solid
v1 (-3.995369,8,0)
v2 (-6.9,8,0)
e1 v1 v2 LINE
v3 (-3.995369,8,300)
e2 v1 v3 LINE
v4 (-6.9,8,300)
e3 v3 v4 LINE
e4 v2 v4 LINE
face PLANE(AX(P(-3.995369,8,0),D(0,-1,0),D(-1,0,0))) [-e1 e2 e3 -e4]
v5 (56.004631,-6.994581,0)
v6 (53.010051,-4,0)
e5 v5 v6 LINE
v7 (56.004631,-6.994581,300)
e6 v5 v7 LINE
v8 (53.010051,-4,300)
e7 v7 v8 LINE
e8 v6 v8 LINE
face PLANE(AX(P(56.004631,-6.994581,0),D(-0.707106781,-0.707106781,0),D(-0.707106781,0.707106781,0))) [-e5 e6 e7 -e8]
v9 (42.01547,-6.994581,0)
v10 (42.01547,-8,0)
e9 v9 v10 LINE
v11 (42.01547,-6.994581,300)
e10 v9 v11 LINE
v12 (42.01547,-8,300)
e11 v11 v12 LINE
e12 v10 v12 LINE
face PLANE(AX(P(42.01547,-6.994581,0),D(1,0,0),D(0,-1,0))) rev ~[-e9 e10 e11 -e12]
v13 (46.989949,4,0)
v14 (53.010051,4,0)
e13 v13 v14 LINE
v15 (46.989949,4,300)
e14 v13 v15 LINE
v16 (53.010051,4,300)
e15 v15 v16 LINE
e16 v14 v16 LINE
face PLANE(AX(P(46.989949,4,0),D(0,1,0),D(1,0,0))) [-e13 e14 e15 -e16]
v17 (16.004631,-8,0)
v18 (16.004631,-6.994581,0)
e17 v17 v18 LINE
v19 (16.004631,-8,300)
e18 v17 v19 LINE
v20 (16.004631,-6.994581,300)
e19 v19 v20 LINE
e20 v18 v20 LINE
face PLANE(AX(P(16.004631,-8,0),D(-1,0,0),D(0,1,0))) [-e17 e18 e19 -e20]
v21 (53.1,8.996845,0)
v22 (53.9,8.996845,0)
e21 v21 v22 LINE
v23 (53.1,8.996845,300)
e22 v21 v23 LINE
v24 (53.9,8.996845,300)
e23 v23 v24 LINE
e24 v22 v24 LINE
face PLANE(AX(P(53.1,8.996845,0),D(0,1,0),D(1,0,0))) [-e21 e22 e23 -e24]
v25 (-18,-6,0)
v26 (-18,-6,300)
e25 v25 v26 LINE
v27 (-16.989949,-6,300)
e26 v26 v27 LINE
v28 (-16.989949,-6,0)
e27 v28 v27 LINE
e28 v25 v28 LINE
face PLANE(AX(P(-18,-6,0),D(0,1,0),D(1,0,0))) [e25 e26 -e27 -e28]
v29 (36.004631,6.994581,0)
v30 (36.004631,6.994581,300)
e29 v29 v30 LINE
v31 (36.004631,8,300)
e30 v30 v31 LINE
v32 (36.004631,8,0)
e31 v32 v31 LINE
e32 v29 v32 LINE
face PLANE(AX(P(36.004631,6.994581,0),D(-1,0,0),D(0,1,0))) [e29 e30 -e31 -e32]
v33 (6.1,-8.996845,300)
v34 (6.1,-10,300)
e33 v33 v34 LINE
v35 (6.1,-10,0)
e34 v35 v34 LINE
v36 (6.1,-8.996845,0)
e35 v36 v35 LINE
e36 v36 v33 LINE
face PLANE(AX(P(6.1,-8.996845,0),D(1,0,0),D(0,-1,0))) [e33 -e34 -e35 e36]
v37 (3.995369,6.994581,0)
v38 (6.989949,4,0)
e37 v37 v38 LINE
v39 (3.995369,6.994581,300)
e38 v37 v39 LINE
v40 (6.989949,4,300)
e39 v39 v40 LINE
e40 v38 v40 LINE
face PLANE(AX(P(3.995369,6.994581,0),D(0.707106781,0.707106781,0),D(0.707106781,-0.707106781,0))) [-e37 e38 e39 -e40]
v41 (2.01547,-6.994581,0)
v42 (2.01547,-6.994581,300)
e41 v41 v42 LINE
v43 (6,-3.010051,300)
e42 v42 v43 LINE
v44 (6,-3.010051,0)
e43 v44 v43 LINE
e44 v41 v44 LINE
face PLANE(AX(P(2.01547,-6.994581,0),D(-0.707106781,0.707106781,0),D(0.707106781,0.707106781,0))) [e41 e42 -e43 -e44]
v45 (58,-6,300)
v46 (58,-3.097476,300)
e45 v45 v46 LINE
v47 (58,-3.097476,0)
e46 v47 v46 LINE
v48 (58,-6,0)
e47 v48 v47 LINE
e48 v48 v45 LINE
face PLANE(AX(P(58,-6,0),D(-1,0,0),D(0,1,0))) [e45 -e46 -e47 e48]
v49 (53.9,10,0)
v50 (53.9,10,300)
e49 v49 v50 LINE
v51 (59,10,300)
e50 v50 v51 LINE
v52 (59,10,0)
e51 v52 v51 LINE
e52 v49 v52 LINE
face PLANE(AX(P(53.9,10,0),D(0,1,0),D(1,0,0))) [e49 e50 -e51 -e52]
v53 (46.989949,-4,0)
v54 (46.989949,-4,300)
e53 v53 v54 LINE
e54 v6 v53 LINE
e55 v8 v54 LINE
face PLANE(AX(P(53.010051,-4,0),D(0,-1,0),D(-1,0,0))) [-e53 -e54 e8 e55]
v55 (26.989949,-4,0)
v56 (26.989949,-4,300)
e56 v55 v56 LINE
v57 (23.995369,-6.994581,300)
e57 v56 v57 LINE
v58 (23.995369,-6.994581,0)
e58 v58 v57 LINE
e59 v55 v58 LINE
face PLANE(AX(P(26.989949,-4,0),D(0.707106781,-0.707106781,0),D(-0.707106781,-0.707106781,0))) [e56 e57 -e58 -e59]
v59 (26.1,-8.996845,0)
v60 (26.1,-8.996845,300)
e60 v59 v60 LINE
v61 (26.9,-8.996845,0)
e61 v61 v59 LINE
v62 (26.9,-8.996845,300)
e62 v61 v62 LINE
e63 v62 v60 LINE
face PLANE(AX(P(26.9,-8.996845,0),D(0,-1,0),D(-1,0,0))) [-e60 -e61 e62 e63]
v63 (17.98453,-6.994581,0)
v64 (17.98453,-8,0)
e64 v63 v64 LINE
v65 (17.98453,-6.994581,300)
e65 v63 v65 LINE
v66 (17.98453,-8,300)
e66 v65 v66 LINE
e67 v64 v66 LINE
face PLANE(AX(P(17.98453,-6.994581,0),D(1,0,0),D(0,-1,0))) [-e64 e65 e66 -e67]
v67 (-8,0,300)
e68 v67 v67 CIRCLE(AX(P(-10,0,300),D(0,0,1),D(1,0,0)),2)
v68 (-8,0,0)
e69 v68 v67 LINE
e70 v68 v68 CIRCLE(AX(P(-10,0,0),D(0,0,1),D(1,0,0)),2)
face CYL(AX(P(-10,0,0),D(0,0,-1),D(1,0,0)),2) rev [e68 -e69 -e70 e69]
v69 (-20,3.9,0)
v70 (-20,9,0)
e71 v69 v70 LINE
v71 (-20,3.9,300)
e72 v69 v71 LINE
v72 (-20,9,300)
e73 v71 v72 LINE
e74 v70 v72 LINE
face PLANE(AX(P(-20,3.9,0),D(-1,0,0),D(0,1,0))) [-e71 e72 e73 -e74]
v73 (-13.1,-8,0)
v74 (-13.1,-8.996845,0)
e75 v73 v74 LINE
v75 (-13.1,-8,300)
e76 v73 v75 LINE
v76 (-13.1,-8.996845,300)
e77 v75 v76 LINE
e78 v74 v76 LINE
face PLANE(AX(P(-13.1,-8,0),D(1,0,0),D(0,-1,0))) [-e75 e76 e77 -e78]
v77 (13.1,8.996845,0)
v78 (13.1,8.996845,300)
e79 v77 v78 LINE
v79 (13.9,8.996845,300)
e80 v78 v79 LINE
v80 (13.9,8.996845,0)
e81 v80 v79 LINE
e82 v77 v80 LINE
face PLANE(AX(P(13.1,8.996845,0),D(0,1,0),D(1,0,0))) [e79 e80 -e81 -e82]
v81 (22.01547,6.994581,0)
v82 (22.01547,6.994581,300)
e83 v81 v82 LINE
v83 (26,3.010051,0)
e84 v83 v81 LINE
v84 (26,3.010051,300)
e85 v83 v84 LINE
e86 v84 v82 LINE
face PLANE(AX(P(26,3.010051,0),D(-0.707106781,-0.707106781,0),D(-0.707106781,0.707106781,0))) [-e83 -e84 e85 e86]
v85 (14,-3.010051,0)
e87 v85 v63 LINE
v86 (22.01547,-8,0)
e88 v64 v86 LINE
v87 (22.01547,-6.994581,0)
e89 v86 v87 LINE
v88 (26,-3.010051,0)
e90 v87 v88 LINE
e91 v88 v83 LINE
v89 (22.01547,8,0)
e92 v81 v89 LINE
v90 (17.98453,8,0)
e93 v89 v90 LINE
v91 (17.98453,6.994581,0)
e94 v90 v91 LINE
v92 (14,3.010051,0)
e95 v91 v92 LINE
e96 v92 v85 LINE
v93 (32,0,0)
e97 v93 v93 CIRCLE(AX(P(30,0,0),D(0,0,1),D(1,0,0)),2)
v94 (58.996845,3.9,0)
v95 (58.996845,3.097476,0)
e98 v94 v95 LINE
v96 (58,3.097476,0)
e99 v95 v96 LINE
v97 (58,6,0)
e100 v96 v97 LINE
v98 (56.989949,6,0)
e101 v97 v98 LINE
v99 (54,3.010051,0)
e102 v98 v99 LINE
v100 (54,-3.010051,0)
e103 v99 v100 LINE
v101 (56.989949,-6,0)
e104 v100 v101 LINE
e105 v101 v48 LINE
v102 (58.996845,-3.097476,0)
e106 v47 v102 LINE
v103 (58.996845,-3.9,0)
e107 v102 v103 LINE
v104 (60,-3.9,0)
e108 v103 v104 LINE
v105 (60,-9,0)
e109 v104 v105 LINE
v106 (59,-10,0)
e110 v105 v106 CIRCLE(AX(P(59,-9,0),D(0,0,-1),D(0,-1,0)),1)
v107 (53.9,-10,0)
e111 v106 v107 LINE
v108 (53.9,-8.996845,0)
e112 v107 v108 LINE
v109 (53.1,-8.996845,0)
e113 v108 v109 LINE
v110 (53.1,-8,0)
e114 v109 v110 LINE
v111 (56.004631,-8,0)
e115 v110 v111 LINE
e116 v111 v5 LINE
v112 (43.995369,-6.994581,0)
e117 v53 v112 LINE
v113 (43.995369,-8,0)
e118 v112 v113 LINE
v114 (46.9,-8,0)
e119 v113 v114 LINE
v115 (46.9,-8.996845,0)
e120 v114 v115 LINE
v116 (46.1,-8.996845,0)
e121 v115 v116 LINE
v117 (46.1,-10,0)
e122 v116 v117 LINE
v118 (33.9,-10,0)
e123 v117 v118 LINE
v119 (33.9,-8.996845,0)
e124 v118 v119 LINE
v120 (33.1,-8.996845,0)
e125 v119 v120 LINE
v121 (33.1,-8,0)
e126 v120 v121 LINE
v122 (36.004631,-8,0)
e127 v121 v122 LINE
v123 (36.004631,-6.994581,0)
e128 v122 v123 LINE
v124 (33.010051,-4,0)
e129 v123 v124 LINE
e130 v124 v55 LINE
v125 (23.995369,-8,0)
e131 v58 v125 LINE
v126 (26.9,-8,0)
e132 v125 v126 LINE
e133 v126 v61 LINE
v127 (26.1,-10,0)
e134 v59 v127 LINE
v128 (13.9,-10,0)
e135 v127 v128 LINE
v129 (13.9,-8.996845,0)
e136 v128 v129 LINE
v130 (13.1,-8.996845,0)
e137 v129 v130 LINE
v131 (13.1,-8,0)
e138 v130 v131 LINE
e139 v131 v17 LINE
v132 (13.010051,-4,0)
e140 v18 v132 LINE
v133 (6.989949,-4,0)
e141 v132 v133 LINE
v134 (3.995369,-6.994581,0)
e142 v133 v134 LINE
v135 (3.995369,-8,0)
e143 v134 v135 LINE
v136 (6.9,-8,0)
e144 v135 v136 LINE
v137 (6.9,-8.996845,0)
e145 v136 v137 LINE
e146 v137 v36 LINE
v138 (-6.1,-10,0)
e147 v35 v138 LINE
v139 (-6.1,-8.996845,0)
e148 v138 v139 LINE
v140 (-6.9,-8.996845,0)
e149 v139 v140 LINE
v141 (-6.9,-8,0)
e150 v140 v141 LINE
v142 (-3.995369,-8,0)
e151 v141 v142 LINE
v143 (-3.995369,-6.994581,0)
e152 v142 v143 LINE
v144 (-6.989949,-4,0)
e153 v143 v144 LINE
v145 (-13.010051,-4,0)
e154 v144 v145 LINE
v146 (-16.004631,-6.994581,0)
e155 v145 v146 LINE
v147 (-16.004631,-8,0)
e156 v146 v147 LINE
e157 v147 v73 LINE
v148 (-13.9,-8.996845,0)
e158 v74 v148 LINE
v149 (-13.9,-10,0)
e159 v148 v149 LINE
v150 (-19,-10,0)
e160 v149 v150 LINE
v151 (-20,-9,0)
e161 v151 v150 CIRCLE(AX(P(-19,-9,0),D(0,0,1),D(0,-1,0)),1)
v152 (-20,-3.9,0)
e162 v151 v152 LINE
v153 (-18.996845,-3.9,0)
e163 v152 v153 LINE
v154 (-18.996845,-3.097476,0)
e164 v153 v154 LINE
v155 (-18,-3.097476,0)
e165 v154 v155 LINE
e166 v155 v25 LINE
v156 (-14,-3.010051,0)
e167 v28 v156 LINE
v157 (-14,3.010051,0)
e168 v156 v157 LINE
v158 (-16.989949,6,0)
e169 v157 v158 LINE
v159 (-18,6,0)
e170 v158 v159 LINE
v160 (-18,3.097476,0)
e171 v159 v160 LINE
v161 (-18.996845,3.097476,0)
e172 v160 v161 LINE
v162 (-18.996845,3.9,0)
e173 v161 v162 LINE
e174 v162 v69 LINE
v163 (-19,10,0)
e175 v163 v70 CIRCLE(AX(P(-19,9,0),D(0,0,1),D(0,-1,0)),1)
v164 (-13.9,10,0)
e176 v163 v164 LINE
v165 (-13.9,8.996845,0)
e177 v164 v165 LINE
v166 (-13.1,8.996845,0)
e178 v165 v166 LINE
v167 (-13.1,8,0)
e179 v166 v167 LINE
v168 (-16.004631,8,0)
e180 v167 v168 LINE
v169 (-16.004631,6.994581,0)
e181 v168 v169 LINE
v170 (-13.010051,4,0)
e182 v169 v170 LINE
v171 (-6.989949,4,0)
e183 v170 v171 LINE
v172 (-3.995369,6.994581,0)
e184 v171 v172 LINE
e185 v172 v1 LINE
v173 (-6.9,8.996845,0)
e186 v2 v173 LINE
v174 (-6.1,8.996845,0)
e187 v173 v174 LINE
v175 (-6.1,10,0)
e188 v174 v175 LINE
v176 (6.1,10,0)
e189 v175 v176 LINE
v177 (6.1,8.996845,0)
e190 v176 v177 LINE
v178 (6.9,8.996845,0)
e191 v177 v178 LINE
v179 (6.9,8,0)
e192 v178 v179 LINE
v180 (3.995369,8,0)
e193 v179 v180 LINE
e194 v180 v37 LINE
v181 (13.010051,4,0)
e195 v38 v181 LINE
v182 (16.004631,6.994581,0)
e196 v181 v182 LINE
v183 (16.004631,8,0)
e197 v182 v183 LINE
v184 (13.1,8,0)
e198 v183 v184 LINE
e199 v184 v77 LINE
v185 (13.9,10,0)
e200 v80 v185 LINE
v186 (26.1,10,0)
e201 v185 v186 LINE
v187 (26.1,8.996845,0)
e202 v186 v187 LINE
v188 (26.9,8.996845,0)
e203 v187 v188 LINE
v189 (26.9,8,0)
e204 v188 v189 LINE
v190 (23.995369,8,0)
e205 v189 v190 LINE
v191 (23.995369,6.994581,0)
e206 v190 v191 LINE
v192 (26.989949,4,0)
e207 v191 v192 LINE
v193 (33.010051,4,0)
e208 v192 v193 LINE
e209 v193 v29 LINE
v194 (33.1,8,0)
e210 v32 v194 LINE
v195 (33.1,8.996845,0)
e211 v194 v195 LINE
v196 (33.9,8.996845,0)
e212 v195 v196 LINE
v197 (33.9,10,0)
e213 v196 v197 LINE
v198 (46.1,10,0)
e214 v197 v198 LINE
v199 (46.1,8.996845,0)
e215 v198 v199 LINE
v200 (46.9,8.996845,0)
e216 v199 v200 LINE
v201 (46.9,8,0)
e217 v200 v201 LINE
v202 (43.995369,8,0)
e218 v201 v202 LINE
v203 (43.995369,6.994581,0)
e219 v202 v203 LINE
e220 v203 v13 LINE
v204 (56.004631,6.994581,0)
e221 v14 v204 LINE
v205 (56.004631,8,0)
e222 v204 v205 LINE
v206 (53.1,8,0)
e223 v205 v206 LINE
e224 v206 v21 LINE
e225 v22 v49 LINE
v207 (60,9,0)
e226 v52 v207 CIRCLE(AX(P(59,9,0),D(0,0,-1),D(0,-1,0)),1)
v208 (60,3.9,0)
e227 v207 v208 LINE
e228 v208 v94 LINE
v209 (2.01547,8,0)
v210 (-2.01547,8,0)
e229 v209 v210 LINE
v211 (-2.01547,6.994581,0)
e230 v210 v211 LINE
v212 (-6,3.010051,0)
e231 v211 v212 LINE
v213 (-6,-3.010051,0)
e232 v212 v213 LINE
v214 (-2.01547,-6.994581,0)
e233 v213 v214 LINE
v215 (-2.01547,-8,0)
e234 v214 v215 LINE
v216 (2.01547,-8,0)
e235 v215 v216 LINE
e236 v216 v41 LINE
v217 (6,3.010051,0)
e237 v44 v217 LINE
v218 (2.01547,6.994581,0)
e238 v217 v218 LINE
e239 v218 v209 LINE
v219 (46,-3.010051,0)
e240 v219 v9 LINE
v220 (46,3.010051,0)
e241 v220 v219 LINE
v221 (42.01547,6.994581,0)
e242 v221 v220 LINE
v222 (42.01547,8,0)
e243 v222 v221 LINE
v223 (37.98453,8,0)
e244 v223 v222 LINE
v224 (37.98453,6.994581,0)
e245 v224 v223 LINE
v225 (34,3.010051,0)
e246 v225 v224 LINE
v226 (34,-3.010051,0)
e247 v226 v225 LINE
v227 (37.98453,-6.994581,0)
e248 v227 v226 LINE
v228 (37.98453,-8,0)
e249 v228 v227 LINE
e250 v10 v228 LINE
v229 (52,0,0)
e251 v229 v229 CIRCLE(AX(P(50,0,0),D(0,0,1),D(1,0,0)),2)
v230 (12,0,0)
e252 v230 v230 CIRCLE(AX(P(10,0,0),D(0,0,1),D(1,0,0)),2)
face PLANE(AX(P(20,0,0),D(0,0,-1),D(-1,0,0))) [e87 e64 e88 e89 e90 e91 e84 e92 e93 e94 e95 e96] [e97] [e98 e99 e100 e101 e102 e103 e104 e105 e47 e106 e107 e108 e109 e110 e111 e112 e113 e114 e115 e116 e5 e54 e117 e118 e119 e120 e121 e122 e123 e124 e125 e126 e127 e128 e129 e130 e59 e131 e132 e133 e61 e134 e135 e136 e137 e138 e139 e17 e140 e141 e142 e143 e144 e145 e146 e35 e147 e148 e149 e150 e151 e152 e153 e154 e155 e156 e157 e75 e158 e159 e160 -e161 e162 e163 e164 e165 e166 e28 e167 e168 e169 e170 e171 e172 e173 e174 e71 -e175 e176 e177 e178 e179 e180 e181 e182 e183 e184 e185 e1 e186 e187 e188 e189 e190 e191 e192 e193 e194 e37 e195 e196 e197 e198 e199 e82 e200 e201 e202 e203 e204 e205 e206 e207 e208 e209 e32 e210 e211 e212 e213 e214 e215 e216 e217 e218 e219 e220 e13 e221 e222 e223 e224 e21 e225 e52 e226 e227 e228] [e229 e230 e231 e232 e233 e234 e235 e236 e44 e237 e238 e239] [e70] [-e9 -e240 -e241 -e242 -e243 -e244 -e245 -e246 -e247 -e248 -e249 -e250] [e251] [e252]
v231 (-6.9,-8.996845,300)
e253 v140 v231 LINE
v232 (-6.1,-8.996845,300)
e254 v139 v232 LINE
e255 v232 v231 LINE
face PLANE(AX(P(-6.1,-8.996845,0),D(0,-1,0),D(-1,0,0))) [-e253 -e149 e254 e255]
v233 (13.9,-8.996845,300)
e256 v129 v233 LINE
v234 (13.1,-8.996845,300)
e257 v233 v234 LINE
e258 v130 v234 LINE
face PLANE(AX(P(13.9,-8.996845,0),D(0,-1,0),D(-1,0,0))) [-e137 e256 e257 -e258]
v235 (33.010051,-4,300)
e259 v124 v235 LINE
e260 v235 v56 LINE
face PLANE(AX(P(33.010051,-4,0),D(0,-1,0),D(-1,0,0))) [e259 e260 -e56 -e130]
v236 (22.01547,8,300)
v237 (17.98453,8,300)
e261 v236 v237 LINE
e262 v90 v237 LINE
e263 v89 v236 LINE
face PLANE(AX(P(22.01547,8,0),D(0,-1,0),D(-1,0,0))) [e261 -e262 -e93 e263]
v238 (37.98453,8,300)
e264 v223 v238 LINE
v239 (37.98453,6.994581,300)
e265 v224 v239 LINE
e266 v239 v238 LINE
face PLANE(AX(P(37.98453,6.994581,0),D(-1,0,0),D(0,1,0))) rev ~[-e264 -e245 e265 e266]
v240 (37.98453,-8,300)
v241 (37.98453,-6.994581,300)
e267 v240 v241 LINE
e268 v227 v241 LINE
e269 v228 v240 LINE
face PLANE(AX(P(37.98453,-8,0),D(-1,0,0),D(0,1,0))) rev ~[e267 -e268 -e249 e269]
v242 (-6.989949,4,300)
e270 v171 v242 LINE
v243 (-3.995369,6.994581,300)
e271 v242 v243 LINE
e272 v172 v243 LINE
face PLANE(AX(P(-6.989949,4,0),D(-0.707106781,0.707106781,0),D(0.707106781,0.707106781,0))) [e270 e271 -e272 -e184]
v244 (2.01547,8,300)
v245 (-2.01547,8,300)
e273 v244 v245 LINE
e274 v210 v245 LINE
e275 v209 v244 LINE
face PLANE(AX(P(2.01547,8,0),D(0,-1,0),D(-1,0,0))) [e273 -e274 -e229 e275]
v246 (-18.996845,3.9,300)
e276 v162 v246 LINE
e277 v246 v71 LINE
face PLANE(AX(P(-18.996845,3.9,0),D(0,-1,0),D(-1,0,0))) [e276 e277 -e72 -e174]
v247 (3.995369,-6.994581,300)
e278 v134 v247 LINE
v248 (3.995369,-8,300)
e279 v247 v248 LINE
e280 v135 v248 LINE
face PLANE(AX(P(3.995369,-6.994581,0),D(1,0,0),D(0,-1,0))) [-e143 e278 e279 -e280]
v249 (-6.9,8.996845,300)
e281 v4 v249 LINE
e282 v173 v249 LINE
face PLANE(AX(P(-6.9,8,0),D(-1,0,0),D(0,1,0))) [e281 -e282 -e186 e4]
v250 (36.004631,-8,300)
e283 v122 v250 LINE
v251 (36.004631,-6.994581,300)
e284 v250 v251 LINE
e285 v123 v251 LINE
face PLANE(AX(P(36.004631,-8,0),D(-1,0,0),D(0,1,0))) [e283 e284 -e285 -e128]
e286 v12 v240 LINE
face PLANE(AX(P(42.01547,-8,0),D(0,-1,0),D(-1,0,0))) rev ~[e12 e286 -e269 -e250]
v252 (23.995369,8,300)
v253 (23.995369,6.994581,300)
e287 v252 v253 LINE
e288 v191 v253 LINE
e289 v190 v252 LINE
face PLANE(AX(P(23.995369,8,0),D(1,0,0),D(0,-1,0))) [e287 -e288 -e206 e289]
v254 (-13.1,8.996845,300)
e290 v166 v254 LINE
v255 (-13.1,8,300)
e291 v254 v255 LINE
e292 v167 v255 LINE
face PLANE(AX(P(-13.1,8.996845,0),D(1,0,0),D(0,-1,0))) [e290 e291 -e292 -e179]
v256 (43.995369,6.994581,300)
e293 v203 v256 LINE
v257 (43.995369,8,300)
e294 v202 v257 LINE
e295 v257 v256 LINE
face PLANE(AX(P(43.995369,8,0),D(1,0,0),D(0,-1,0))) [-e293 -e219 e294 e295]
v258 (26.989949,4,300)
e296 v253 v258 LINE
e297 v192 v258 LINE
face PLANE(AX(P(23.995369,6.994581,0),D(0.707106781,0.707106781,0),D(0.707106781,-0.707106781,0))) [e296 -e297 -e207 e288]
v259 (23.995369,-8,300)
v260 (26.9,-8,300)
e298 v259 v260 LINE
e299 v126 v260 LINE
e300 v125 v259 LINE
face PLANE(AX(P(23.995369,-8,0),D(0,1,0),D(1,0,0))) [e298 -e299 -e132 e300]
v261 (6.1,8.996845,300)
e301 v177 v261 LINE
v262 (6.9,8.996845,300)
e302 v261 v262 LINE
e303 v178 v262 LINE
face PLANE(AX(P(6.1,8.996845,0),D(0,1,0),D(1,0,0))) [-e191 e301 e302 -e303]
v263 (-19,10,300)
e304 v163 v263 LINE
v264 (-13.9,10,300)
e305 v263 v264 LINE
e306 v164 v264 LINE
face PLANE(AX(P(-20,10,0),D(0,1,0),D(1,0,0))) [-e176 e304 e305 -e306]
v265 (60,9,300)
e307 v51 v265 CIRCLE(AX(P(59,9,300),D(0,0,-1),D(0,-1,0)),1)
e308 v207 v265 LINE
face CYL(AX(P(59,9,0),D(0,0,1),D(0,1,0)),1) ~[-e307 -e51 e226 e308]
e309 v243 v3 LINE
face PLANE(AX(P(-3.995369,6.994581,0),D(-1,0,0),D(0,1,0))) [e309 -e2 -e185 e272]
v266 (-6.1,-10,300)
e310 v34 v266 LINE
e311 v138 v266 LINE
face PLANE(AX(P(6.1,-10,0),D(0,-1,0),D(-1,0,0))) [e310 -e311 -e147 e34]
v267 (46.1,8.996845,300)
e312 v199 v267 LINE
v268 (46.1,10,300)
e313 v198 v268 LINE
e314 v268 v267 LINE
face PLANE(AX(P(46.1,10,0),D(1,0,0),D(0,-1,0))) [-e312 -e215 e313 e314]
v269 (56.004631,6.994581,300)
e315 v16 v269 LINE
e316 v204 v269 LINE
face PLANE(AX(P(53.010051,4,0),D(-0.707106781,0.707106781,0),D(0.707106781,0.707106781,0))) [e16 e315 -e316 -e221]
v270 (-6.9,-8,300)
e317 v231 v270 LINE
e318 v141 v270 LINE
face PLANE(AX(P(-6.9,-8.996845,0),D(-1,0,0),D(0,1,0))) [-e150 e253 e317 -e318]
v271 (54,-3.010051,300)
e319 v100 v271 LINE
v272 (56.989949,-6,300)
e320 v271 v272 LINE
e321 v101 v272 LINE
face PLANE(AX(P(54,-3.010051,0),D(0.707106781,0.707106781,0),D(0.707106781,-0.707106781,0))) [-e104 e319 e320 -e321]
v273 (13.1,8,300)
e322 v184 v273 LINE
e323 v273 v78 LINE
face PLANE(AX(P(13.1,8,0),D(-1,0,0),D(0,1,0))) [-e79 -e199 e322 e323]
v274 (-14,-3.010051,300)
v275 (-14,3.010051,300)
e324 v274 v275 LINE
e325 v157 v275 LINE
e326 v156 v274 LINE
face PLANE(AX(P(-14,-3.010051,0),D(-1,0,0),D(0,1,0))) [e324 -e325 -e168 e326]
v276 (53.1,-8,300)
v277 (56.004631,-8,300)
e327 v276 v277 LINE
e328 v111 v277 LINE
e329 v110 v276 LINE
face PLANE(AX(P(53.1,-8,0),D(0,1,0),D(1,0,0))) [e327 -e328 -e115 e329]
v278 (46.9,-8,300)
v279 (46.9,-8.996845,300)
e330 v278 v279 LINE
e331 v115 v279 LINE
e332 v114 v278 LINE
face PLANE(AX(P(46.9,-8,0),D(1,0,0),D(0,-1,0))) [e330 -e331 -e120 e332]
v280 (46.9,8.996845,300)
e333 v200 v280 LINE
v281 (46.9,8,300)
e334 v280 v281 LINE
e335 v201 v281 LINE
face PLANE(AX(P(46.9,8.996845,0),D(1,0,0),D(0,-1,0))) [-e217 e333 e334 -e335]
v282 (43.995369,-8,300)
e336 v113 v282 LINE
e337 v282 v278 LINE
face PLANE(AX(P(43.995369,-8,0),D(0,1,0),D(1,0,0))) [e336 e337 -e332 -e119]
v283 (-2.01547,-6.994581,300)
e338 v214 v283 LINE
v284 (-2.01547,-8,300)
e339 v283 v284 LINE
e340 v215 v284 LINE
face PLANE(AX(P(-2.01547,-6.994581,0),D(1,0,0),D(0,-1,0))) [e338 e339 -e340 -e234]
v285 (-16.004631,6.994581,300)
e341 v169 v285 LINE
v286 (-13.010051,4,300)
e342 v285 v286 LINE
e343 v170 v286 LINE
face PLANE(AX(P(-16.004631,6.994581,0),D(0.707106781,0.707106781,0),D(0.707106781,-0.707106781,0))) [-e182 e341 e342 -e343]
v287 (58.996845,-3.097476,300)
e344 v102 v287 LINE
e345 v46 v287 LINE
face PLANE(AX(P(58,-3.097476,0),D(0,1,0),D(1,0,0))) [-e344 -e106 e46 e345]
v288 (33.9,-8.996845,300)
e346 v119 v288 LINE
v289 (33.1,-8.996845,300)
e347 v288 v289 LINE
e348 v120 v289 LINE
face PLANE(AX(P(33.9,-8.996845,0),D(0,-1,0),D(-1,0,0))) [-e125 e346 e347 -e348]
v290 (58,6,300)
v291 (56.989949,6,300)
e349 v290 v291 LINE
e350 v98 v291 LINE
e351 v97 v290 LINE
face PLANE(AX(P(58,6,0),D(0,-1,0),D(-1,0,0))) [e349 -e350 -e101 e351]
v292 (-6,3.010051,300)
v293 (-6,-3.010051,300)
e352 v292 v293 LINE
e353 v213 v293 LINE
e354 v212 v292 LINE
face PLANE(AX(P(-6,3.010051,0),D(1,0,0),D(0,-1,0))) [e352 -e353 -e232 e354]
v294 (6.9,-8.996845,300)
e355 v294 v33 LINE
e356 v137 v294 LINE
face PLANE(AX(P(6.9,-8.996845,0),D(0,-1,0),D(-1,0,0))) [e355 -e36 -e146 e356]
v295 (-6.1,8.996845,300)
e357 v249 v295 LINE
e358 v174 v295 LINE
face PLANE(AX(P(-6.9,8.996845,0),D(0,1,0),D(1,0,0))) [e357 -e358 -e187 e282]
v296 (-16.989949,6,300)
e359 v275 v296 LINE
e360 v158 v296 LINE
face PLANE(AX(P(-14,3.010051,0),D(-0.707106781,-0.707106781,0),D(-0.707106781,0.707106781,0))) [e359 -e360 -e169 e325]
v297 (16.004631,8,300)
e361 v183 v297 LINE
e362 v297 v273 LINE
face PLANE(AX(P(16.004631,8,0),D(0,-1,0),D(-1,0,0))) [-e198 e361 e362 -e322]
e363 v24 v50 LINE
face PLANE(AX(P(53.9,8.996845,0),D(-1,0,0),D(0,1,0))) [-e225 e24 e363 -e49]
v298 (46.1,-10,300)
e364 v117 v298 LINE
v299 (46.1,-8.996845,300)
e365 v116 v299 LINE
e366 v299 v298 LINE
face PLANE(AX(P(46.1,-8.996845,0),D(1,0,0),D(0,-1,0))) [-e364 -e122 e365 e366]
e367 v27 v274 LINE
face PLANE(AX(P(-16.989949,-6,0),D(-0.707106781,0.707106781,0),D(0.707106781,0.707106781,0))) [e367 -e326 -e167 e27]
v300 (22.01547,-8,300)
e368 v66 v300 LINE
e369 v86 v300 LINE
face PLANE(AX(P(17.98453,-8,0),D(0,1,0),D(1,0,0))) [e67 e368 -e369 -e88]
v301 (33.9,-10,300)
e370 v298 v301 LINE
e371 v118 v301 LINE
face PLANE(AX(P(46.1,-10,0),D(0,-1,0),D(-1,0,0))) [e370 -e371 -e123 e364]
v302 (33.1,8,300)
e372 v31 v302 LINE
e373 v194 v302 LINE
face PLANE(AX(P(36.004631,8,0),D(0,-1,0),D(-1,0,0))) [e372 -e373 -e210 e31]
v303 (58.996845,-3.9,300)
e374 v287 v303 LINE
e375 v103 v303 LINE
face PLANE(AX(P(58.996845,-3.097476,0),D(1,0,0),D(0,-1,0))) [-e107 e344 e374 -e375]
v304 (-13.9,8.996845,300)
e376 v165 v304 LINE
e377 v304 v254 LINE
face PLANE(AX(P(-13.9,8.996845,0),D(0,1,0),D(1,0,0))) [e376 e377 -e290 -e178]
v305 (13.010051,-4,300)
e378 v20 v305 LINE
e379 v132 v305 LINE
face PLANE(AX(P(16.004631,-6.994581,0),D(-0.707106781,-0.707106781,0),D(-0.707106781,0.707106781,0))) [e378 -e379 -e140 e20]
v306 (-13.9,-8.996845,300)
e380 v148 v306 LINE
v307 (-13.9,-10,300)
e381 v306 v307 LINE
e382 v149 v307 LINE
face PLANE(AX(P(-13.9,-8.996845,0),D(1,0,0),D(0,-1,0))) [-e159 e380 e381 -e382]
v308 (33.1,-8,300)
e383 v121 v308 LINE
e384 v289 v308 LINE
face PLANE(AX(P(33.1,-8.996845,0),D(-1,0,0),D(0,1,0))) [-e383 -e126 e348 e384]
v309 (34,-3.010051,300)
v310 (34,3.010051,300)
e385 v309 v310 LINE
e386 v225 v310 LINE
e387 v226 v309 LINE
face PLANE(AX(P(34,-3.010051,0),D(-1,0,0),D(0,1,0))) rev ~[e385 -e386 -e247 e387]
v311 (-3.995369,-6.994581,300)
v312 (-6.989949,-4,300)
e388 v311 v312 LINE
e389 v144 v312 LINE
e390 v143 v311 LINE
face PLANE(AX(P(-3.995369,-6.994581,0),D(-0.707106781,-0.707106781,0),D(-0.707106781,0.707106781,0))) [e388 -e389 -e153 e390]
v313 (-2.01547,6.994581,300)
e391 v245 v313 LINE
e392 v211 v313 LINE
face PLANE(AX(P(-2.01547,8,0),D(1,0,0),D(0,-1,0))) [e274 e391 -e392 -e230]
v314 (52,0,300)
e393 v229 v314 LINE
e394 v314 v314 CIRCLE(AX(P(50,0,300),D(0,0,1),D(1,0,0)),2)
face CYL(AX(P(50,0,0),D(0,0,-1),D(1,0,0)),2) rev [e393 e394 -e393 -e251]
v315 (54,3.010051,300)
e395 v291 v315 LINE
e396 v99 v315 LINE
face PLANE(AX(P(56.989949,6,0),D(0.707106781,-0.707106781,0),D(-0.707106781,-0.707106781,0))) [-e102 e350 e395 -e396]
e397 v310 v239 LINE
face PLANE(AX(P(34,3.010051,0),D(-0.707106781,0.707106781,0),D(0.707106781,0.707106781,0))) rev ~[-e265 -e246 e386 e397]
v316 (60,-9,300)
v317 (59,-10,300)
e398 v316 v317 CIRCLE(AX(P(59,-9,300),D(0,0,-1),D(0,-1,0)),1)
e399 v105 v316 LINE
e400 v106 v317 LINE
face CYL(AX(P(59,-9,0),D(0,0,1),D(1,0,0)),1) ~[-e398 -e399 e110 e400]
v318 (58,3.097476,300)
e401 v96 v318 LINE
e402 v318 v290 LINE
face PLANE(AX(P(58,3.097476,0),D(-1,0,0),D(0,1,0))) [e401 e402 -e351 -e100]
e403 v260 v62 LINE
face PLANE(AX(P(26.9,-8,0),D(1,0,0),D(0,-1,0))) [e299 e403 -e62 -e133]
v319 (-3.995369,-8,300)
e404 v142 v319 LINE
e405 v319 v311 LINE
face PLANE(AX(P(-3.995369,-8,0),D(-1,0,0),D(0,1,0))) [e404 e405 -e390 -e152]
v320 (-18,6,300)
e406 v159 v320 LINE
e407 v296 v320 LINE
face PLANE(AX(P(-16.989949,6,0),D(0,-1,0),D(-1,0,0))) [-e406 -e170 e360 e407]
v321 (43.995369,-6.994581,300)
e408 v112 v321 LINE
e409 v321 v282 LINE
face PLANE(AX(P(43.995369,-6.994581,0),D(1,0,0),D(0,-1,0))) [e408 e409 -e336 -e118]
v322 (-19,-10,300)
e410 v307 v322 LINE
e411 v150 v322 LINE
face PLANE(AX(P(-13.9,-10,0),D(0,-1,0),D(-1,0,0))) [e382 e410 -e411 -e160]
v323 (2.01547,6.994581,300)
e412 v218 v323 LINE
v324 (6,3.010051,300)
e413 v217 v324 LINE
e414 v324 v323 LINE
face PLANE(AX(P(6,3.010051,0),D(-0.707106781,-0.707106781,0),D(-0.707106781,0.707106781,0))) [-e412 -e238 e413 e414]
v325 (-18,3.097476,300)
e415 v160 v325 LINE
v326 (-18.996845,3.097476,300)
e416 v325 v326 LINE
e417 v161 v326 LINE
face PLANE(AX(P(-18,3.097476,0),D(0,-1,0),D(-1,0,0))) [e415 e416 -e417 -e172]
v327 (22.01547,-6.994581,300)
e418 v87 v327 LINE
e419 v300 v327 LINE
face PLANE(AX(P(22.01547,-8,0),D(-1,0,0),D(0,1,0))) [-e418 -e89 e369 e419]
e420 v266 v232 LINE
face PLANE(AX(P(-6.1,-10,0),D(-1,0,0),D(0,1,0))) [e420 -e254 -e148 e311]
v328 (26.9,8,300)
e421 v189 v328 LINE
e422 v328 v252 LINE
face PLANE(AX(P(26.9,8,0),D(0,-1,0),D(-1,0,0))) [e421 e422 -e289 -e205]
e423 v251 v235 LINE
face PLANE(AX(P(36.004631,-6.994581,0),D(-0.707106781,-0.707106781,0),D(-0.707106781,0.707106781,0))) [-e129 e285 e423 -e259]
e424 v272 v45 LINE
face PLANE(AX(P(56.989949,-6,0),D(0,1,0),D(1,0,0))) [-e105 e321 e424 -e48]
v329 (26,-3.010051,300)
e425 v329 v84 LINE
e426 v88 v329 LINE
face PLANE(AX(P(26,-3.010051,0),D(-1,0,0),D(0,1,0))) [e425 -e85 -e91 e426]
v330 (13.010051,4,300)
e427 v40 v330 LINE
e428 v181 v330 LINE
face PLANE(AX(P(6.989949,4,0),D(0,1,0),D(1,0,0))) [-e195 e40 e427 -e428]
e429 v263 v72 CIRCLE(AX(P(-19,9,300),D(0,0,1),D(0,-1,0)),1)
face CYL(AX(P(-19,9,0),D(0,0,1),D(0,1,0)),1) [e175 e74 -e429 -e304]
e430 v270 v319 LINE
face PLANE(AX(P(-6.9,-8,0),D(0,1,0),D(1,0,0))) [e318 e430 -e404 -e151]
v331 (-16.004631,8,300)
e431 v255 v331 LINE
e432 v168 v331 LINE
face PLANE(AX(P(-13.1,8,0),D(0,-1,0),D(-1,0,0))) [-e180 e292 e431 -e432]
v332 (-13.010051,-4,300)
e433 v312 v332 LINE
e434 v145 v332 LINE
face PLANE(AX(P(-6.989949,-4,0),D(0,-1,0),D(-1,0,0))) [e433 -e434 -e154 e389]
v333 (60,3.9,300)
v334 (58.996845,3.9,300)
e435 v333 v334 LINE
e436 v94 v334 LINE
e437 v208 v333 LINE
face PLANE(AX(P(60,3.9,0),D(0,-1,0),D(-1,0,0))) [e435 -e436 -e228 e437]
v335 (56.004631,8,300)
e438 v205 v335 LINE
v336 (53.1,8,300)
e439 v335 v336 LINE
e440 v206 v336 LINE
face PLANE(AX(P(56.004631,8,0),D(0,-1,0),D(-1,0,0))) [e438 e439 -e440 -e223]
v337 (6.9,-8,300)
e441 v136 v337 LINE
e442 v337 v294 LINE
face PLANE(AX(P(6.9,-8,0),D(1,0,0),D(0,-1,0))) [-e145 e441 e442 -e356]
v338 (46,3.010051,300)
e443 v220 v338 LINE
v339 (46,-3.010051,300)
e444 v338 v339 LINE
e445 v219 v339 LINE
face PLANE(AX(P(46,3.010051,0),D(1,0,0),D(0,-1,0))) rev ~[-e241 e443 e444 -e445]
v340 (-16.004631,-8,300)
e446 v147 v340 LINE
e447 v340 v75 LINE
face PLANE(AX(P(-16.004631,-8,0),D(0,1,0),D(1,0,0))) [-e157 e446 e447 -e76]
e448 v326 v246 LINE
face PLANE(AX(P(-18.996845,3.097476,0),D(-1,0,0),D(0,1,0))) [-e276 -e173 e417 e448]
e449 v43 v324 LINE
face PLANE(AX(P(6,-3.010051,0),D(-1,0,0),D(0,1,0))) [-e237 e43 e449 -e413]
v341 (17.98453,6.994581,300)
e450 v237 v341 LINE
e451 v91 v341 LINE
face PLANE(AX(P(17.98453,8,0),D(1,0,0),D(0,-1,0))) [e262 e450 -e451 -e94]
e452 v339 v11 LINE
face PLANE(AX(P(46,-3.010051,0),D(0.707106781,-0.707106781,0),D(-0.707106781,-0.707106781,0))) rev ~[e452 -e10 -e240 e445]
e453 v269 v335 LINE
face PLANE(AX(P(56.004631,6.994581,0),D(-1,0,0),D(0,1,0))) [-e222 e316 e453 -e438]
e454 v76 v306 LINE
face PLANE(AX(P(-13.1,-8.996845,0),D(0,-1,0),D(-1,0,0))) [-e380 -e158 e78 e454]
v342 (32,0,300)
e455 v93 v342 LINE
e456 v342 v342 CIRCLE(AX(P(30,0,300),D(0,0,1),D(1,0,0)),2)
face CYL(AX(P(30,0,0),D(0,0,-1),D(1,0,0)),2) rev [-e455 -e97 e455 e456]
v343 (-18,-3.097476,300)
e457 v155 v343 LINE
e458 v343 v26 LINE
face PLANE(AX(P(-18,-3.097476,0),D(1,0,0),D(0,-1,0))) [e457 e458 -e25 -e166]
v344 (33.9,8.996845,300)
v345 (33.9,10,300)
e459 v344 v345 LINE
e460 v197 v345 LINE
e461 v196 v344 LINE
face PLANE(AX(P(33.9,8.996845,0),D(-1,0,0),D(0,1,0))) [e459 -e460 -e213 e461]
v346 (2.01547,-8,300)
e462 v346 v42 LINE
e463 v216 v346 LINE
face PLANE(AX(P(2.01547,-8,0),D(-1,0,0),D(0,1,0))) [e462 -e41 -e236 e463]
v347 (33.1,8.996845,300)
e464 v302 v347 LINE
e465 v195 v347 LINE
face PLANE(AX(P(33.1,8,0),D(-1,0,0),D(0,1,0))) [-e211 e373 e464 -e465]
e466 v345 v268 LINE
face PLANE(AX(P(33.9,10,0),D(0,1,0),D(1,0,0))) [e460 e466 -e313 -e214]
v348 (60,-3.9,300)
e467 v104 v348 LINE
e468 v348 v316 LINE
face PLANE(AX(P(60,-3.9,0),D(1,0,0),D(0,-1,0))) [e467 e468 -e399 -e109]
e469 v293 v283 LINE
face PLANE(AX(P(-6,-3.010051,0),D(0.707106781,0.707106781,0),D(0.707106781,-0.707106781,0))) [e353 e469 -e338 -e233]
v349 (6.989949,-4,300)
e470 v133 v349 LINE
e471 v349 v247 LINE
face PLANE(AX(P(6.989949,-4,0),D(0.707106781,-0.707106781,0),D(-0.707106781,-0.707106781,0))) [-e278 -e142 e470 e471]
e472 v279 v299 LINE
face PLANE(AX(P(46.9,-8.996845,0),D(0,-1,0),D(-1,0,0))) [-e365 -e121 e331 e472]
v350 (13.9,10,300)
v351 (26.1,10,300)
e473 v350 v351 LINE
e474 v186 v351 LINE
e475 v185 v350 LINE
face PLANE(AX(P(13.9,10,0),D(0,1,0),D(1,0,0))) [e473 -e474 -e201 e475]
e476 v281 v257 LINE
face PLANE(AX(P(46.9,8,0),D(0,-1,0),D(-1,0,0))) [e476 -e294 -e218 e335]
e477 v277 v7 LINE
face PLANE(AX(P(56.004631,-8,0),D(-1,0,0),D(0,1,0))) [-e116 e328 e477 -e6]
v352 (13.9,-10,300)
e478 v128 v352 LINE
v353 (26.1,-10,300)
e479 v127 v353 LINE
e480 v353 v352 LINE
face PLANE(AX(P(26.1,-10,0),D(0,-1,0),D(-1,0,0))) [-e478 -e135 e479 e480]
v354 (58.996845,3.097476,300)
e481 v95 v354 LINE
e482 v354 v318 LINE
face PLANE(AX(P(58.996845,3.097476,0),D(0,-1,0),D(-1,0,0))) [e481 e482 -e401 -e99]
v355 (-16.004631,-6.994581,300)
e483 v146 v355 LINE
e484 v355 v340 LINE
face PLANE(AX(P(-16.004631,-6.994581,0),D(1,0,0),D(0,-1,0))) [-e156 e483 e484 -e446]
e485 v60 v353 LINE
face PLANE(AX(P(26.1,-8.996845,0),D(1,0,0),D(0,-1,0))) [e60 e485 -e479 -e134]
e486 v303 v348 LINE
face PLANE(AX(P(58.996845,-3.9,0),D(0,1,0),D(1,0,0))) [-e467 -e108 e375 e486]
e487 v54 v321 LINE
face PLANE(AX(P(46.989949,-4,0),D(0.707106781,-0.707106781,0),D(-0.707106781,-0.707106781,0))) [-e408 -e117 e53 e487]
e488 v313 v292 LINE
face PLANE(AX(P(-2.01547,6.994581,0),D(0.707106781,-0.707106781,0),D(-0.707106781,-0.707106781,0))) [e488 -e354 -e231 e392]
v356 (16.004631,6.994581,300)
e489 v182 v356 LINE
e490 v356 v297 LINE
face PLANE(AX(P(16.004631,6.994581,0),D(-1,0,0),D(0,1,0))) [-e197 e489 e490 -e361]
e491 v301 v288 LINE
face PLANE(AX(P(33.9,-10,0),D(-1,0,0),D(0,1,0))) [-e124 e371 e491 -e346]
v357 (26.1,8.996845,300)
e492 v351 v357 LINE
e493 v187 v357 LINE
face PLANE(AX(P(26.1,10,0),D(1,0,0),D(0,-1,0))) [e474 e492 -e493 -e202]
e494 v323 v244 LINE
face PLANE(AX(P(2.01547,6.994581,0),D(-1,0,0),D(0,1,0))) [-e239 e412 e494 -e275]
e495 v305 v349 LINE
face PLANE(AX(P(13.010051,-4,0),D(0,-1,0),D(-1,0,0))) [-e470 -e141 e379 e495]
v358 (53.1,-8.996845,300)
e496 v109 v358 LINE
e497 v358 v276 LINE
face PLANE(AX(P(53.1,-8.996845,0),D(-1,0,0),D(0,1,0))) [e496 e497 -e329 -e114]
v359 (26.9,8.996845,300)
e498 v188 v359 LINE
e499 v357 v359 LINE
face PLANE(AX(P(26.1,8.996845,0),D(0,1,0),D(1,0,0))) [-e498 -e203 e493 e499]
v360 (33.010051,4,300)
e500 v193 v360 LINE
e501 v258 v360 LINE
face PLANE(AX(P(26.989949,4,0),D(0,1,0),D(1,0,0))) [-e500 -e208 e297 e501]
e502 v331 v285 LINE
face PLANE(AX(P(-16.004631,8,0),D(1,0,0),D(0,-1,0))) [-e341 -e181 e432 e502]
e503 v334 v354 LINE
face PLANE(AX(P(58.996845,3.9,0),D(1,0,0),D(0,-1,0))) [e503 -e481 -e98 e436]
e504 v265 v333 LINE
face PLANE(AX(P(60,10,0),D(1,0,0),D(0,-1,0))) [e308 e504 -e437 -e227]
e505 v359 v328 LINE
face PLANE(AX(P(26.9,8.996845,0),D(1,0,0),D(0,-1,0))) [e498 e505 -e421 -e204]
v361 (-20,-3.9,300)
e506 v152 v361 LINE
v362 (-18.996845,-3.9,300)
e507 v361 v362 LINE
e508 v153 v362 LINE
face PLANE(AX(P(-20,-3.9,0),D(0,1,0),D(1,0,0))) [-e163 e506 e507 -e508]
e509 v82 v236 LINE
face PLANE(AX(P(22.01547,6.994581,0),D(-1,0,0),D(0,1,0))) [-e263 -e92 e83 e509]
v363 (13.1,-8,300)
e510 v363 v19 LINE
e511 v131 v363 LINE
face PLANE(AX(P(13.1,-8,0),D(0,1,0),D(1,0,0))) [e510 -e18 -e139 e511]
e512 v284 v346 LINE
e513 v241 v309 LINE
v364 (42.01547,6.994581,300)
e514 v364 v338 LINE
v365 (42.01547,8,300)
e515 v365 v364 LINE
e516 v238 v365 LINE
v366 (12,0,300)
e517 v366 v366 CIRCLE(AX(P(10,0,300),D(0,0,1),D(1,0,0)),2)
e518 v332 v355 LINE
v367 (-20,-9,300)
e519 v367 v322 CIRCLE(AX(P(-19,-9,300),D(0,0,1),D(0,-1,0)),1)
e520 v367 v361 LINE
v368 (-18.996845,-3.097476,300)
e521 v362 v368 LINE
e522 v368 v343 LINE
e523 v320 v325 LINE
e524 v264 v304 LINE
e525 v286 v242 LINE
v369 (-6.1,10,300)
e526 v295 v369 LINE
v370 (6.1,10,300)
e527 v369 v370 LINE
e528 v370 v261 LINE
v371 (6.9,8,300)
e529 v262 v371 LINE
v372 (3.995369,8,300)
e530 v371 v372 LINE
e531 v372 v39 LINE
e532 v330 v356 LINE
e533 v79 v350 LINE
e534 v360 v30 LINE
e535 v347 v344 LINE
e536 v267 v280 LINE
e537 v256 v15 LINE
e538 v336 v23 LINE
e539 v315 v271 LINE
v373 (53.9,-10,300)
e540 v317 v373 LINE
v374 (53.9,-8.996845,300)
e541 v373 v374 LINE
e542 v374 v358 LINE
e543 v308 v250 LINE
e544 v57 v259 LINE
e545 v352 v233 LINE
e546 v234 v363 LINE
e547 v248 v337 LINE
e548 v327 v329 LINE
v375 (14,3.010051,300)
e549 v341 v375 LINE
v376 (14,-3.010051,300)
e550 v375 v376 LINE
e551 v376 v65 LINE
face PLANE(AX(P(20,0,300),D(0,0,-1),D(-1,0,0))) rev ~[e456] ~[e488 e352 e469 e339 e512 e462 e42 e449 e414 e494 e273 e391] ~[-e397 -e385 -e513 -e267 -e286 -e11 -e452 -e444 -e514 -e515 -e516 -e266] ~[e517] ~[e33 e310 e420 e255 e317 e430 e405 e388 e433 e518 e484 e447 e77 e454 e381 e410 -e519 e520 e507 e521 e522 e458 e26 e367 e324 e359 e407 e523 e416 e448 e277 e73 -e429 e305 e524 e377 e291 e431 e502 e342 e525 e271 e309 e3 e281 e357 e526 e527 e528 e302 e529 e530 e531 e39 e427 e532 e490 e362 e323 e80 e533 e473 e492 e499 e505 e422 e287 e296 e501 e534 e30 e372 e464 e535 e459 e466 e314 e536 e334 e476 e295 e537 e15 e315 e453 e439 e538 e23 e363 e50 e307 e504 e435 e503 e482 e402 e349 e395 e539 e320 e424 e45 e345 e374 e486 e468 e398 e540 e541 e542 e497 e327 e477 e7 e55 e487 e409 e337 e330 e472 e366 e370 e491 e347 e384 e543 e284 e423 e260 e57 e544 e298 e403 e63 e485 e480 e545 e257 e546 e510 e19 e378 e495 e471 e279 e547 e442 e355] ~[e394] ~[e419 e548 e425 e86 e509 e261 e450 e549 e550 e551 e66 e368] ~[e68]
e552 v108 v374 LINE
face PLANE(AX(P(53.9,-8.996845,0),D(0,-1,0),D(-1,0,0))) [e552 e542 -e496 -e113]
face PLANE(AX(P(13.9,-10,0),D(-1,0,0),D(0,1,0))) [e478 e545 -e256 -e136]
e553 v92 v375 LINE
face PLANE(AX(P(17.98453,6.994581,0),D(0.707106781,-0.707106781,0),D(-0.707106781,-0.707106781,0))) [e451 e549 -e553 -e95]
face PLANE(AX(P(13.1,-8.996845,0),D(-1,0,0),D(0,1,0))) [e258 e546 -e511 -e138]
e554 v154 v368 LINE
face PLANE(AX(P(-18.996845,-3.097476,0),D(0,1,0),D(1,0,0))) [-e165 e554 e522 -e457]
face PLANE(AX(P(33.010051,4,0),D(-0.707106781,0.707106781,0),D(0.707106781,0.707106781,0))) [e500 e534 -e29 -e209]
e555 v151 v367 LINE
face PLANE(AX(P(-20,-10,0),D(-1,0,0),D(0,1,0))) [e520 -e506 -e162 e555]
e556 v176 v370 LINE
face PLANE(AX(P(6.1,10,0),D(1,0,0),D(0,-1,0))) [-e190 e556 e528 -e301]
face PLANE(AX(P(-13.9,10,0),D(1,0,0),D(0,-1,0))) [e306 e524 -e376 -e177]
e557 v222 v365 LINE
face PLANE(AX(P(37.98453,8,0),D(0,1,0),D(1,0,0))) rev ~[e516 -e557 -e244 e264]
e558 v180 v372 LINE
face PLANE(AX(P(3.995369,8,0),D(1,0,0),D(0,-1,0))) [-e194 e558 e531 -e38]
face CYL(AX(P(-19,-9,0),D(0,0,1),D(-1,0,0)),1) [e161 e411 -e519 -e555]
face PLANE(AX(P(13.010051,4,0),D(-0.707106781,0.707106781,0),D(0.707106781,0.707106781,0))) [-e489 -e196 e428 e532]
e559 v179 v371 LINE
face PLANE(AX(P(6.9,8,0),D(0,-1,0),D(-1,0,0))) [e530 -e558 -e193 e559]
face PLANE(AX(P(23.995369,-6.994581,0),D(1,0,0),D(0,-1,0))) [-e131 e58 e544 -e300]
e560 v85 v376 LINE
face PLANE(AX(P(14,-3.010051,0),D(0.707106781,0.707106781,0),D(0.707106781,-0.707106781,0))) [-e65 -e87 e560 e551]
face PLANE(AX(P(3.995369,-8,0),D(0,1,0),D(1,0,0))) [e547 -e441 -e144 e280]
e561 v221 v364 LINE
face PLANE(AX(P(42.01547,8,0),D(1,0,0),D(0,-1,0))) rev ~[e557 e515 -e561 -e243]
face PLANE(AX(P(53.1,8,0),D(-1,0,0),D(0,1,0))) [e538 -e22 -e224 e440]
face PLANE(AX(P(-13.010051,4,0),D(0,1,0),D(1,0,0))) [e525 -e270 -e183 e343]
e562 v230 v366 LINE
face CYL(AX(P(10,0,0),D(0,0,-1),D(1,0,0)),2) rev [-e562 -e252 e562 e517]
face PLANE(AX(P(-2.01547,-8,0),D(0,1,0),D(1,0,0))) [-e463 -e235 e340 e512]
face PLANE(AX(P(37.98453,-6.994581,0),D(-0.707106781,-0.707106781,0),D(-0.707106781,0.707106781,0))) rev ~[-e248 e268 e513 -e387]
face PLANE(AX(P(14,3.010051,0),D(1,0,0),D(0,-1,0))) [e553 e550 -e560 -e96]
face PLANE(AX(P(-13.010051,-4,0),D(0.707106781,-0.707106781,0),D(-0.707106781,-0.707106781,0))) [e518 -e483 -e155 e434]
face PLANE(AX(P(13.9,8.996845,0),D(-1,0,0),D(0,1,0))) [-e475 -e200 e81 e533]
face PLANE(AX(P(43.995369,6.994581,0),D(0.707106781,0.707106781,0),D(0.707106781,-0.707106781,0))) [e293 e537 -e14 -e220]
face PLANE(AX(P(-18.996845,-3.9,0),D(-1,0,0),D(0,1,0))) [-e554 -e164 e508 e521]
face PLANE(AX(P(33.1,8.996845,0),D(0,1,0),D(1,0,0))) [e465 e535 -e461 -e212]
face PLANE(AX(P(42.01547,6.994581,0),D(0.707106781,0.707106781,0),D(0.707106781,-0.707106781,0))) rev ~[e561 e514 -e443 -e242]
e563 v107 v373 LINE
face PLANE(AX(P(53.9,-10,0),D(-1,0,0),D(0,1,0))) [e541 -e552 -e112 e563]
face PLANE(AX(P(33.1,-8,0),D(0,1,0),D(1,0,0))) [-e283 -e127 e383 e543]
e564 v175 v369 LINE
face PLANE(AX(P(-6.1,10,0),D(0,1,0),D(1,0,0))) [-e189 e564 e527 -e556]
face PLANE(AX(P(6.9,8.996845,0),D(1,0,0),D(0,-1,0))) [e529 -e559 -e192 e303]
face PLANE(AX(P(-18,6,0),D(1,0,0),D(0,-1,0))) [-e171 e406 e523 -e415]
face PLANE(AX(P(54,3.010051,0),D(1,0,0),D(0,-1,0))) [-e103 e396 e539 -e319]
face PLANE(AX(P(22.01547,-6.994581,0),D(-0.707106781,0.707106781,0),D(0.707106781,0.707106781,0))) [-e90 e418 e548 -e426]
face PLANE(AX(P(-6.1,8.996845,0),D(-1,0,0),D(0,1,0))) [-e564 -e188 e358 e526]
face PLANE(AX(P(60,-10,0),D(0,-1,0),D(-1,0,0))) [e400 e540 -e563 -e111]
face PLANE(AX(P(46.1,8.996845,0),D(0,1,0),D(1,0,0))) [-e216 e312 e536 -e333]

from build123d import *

# Parameters (mm, degrees)
SKETCH_1_R      = 2
EXTRUDE_1_DEPTH = 300
FILLET_1_R      = 1


with BuildPart() as part:
    # Sketch 1 → Extrude 1 (new body)
    with BuildSketch(Plane.XY):
        Polygon((-20, 10), (-13.9, 10), (-13.9, 8.996845012), (-13.1, 8.996845012), (-13.1, 8), (-16.004631122, 8), (-16.004631122, 6.994580616), (-13.010050506, 4), (-6.989949494, 4), (-3.995368878, 6.994580616), (-3.995368878, 8), (-6.9, 8), (-6.9, 8.996845012), (-6.1, 8.996845012), (-6.1, 10), (6.1, 10), (6.1, 8.996845012), (6.9, 8.996845012), (6.9, 8), (3.995368878, 8), (3.995368878, 6.994580616), (6.989949494, 4), (13.010050506, 4), (16.004631122, 6.994580616), (16.004631122, 8), (13.1, 8), (13.1, 8.996845012), (13.9, 8.996845012), (13.9, 10), (26.1, 10), (26.1, 8.996845012), (26.9, 8.996845012), (26.9, 8), (23.995368878, 8), (23.995368878, 6.994580616), (26.989949494, 4), (33.010050506, 4), (36.004631122, 6.994580616), (36.004631122, 8), (33.1, 8), (33.1, 8.996845012), (33.9, 8.996845012), (33.9, 10), (46.1, 10), (46.1, 8.996845012), (46.9, 8.996845012), (46.9, 8), (43.995368878, 8), (43.995368878, 6.994580616), (46.989949494, 4), (53.010050506, 4), (56.004631122, 6.994580616), (56.004631122, 8), (53.1, 8), (53.1, 8.996845012), (53.9, 8.996845012), (53.9, 10), (60, 10), (60, 3.9), (58.996845012, 3.9), (58.996845012, 3.09747601), (58, 3.09747601), (58, 6), (56.989949494, 6), (54, 3.010050506), (54, -3.010050506), (56.989949494, -6), (58, -6), (58, -3.09747601), (58.996845012, -3.09747601), (58.996845012, -3.9), (60, -3.9), (60, -10), (53.9, -10), (53.9, -8.996845012), (53.1, -8.996845012), (53.1, -8), (56.004631122, -8), (56.004631122, -6.994580616), (53.010050506, -4), (46.989949494, -4), (43.995368878, -6.994580616), (43.995368878, -8), (46.9, -8), (46.9, -8.996845012), (46.1, -8.996845012), (46.1, -10), (33.9, -10), (33.9, -8.996845012), (33.1, -8.996845012), (33.1, -8), (36.004631122, -8), (36.004631122, -6.994580616), (33.010050506, -4), (26.989949494, -4), (23.995368878, -6.994580616), (23.995368878, -8), (26.9, -8), (26.9, -8.996845012), (26.1, -8.996845012), (26.1, -10), (13.9, -10), (13.9, -8.996845012), (13.1, -8.996845012), (13.1, -8), (16.004631122, -8), (16.004631122, -6.994580616), (13.010050506, -4), (6.989949494, -4), (3.995368878, -6.994580616), (3.995368878, -8), (6.9, -8), (6.9, -8.996845012), (6.1, -8.996845012), (6.1, -10), (-6.1, -10), (-6.1, -8.996845012), (-6.9, -8.996845012), (-6.9, -8), (-3.995368878, -8), (-3.995368878, -6.994580616), (-6.989949494, -4), (-13.010050506, -4), (-16.004631122, -6.994580616), (-16.004631122, -8), (-13.1, -8), (-13.1, -8.996845012), (-13.9, -8.996845012), (-13.9, -10), (-20, -10), (-20, -3.9), (-18.996845012, -3.9), (-18.996845012, -3.09747601), (-18, -3.09747601), (-18, -6), (-16.989949494, -6), (-14, -3.010050506), (-14, 3.010050506), (-16.989949494, 6), (-18, 6), (-18, 3.09747601), (-18.996845012, 3.09747601), (-18.996845012, 3.9), (-20, 3.9), align=None)
        with Locations((-10, 0)):
            Circle(SKETCH_1_R, mode=Mode.SUBTRACT)
        with Locations((10, 0)):
            Circle(SKETCH_1_R, mode=Mode.SUBTRACT)
        with Locations((30, 0)):
            Circle(SKETCH_1_R, mode=Mode.SUBTRACT)
        with Locations((50, 0)):
            Circle(SKETCH_1_R, mode=Mode.SUBTRACT)
        Polygon((17.984530109, -6.994580616), (17.984530109, -8), (22.015469891, -8), (22.015469891, -6.994580616), (26, -3.010050506), (26, 3.010050506), (22.015469891, 6.994580616), (22.015469891, 8), (17.984530109, 8), (17.984530109, 6.994580616), (14, 3.010050506), (14, -3.010050506), align=None, mode=Mode.SUBTRACT)
        Polygon((2.015469891, -8), (2.015469891, -6.994580616), (6, -3.010050506), (6, 3.010050506), (2.015469891, 6.994580616), (2.015469891, 8), (-2.015469891, 8), (-2.015469891, 6.994580616), (-6, 3.010050506), (-6, -3.010050506), (-2.015469891, -6.994580616), (-2.015469891, -8), align=None, mode=Mode.SUBTRACT)
        Polygon((42.015469891, -8), (37.984530109, -8), (37.984530109, -6.994580616), (34, -3.010050506), (34, 3.010050506), (37.984530109, 6.994580616), (37.984530109, 8), (42.015469891, 8), (42.015469891, 6.994580616), (46, 3.010050506), (46, -3.010050506), (42.015469891, -6.994580616), align=None, mode=Mode.SUBTRACT)
    extrude(amount=EXTRUDE_1_DEPTH)

    # Fillet 1
    fillet_1_edges = [part.edges().sort_by_distance(p)[0] for p in [
        (60, 10, 150),
        (60, -10, 150),
        (-20, -10, 150),
        (-20, 10, 150),
    ]]
    fillet(fillet_1_edges, radius=FILLET_1_R)


solid = part.part
